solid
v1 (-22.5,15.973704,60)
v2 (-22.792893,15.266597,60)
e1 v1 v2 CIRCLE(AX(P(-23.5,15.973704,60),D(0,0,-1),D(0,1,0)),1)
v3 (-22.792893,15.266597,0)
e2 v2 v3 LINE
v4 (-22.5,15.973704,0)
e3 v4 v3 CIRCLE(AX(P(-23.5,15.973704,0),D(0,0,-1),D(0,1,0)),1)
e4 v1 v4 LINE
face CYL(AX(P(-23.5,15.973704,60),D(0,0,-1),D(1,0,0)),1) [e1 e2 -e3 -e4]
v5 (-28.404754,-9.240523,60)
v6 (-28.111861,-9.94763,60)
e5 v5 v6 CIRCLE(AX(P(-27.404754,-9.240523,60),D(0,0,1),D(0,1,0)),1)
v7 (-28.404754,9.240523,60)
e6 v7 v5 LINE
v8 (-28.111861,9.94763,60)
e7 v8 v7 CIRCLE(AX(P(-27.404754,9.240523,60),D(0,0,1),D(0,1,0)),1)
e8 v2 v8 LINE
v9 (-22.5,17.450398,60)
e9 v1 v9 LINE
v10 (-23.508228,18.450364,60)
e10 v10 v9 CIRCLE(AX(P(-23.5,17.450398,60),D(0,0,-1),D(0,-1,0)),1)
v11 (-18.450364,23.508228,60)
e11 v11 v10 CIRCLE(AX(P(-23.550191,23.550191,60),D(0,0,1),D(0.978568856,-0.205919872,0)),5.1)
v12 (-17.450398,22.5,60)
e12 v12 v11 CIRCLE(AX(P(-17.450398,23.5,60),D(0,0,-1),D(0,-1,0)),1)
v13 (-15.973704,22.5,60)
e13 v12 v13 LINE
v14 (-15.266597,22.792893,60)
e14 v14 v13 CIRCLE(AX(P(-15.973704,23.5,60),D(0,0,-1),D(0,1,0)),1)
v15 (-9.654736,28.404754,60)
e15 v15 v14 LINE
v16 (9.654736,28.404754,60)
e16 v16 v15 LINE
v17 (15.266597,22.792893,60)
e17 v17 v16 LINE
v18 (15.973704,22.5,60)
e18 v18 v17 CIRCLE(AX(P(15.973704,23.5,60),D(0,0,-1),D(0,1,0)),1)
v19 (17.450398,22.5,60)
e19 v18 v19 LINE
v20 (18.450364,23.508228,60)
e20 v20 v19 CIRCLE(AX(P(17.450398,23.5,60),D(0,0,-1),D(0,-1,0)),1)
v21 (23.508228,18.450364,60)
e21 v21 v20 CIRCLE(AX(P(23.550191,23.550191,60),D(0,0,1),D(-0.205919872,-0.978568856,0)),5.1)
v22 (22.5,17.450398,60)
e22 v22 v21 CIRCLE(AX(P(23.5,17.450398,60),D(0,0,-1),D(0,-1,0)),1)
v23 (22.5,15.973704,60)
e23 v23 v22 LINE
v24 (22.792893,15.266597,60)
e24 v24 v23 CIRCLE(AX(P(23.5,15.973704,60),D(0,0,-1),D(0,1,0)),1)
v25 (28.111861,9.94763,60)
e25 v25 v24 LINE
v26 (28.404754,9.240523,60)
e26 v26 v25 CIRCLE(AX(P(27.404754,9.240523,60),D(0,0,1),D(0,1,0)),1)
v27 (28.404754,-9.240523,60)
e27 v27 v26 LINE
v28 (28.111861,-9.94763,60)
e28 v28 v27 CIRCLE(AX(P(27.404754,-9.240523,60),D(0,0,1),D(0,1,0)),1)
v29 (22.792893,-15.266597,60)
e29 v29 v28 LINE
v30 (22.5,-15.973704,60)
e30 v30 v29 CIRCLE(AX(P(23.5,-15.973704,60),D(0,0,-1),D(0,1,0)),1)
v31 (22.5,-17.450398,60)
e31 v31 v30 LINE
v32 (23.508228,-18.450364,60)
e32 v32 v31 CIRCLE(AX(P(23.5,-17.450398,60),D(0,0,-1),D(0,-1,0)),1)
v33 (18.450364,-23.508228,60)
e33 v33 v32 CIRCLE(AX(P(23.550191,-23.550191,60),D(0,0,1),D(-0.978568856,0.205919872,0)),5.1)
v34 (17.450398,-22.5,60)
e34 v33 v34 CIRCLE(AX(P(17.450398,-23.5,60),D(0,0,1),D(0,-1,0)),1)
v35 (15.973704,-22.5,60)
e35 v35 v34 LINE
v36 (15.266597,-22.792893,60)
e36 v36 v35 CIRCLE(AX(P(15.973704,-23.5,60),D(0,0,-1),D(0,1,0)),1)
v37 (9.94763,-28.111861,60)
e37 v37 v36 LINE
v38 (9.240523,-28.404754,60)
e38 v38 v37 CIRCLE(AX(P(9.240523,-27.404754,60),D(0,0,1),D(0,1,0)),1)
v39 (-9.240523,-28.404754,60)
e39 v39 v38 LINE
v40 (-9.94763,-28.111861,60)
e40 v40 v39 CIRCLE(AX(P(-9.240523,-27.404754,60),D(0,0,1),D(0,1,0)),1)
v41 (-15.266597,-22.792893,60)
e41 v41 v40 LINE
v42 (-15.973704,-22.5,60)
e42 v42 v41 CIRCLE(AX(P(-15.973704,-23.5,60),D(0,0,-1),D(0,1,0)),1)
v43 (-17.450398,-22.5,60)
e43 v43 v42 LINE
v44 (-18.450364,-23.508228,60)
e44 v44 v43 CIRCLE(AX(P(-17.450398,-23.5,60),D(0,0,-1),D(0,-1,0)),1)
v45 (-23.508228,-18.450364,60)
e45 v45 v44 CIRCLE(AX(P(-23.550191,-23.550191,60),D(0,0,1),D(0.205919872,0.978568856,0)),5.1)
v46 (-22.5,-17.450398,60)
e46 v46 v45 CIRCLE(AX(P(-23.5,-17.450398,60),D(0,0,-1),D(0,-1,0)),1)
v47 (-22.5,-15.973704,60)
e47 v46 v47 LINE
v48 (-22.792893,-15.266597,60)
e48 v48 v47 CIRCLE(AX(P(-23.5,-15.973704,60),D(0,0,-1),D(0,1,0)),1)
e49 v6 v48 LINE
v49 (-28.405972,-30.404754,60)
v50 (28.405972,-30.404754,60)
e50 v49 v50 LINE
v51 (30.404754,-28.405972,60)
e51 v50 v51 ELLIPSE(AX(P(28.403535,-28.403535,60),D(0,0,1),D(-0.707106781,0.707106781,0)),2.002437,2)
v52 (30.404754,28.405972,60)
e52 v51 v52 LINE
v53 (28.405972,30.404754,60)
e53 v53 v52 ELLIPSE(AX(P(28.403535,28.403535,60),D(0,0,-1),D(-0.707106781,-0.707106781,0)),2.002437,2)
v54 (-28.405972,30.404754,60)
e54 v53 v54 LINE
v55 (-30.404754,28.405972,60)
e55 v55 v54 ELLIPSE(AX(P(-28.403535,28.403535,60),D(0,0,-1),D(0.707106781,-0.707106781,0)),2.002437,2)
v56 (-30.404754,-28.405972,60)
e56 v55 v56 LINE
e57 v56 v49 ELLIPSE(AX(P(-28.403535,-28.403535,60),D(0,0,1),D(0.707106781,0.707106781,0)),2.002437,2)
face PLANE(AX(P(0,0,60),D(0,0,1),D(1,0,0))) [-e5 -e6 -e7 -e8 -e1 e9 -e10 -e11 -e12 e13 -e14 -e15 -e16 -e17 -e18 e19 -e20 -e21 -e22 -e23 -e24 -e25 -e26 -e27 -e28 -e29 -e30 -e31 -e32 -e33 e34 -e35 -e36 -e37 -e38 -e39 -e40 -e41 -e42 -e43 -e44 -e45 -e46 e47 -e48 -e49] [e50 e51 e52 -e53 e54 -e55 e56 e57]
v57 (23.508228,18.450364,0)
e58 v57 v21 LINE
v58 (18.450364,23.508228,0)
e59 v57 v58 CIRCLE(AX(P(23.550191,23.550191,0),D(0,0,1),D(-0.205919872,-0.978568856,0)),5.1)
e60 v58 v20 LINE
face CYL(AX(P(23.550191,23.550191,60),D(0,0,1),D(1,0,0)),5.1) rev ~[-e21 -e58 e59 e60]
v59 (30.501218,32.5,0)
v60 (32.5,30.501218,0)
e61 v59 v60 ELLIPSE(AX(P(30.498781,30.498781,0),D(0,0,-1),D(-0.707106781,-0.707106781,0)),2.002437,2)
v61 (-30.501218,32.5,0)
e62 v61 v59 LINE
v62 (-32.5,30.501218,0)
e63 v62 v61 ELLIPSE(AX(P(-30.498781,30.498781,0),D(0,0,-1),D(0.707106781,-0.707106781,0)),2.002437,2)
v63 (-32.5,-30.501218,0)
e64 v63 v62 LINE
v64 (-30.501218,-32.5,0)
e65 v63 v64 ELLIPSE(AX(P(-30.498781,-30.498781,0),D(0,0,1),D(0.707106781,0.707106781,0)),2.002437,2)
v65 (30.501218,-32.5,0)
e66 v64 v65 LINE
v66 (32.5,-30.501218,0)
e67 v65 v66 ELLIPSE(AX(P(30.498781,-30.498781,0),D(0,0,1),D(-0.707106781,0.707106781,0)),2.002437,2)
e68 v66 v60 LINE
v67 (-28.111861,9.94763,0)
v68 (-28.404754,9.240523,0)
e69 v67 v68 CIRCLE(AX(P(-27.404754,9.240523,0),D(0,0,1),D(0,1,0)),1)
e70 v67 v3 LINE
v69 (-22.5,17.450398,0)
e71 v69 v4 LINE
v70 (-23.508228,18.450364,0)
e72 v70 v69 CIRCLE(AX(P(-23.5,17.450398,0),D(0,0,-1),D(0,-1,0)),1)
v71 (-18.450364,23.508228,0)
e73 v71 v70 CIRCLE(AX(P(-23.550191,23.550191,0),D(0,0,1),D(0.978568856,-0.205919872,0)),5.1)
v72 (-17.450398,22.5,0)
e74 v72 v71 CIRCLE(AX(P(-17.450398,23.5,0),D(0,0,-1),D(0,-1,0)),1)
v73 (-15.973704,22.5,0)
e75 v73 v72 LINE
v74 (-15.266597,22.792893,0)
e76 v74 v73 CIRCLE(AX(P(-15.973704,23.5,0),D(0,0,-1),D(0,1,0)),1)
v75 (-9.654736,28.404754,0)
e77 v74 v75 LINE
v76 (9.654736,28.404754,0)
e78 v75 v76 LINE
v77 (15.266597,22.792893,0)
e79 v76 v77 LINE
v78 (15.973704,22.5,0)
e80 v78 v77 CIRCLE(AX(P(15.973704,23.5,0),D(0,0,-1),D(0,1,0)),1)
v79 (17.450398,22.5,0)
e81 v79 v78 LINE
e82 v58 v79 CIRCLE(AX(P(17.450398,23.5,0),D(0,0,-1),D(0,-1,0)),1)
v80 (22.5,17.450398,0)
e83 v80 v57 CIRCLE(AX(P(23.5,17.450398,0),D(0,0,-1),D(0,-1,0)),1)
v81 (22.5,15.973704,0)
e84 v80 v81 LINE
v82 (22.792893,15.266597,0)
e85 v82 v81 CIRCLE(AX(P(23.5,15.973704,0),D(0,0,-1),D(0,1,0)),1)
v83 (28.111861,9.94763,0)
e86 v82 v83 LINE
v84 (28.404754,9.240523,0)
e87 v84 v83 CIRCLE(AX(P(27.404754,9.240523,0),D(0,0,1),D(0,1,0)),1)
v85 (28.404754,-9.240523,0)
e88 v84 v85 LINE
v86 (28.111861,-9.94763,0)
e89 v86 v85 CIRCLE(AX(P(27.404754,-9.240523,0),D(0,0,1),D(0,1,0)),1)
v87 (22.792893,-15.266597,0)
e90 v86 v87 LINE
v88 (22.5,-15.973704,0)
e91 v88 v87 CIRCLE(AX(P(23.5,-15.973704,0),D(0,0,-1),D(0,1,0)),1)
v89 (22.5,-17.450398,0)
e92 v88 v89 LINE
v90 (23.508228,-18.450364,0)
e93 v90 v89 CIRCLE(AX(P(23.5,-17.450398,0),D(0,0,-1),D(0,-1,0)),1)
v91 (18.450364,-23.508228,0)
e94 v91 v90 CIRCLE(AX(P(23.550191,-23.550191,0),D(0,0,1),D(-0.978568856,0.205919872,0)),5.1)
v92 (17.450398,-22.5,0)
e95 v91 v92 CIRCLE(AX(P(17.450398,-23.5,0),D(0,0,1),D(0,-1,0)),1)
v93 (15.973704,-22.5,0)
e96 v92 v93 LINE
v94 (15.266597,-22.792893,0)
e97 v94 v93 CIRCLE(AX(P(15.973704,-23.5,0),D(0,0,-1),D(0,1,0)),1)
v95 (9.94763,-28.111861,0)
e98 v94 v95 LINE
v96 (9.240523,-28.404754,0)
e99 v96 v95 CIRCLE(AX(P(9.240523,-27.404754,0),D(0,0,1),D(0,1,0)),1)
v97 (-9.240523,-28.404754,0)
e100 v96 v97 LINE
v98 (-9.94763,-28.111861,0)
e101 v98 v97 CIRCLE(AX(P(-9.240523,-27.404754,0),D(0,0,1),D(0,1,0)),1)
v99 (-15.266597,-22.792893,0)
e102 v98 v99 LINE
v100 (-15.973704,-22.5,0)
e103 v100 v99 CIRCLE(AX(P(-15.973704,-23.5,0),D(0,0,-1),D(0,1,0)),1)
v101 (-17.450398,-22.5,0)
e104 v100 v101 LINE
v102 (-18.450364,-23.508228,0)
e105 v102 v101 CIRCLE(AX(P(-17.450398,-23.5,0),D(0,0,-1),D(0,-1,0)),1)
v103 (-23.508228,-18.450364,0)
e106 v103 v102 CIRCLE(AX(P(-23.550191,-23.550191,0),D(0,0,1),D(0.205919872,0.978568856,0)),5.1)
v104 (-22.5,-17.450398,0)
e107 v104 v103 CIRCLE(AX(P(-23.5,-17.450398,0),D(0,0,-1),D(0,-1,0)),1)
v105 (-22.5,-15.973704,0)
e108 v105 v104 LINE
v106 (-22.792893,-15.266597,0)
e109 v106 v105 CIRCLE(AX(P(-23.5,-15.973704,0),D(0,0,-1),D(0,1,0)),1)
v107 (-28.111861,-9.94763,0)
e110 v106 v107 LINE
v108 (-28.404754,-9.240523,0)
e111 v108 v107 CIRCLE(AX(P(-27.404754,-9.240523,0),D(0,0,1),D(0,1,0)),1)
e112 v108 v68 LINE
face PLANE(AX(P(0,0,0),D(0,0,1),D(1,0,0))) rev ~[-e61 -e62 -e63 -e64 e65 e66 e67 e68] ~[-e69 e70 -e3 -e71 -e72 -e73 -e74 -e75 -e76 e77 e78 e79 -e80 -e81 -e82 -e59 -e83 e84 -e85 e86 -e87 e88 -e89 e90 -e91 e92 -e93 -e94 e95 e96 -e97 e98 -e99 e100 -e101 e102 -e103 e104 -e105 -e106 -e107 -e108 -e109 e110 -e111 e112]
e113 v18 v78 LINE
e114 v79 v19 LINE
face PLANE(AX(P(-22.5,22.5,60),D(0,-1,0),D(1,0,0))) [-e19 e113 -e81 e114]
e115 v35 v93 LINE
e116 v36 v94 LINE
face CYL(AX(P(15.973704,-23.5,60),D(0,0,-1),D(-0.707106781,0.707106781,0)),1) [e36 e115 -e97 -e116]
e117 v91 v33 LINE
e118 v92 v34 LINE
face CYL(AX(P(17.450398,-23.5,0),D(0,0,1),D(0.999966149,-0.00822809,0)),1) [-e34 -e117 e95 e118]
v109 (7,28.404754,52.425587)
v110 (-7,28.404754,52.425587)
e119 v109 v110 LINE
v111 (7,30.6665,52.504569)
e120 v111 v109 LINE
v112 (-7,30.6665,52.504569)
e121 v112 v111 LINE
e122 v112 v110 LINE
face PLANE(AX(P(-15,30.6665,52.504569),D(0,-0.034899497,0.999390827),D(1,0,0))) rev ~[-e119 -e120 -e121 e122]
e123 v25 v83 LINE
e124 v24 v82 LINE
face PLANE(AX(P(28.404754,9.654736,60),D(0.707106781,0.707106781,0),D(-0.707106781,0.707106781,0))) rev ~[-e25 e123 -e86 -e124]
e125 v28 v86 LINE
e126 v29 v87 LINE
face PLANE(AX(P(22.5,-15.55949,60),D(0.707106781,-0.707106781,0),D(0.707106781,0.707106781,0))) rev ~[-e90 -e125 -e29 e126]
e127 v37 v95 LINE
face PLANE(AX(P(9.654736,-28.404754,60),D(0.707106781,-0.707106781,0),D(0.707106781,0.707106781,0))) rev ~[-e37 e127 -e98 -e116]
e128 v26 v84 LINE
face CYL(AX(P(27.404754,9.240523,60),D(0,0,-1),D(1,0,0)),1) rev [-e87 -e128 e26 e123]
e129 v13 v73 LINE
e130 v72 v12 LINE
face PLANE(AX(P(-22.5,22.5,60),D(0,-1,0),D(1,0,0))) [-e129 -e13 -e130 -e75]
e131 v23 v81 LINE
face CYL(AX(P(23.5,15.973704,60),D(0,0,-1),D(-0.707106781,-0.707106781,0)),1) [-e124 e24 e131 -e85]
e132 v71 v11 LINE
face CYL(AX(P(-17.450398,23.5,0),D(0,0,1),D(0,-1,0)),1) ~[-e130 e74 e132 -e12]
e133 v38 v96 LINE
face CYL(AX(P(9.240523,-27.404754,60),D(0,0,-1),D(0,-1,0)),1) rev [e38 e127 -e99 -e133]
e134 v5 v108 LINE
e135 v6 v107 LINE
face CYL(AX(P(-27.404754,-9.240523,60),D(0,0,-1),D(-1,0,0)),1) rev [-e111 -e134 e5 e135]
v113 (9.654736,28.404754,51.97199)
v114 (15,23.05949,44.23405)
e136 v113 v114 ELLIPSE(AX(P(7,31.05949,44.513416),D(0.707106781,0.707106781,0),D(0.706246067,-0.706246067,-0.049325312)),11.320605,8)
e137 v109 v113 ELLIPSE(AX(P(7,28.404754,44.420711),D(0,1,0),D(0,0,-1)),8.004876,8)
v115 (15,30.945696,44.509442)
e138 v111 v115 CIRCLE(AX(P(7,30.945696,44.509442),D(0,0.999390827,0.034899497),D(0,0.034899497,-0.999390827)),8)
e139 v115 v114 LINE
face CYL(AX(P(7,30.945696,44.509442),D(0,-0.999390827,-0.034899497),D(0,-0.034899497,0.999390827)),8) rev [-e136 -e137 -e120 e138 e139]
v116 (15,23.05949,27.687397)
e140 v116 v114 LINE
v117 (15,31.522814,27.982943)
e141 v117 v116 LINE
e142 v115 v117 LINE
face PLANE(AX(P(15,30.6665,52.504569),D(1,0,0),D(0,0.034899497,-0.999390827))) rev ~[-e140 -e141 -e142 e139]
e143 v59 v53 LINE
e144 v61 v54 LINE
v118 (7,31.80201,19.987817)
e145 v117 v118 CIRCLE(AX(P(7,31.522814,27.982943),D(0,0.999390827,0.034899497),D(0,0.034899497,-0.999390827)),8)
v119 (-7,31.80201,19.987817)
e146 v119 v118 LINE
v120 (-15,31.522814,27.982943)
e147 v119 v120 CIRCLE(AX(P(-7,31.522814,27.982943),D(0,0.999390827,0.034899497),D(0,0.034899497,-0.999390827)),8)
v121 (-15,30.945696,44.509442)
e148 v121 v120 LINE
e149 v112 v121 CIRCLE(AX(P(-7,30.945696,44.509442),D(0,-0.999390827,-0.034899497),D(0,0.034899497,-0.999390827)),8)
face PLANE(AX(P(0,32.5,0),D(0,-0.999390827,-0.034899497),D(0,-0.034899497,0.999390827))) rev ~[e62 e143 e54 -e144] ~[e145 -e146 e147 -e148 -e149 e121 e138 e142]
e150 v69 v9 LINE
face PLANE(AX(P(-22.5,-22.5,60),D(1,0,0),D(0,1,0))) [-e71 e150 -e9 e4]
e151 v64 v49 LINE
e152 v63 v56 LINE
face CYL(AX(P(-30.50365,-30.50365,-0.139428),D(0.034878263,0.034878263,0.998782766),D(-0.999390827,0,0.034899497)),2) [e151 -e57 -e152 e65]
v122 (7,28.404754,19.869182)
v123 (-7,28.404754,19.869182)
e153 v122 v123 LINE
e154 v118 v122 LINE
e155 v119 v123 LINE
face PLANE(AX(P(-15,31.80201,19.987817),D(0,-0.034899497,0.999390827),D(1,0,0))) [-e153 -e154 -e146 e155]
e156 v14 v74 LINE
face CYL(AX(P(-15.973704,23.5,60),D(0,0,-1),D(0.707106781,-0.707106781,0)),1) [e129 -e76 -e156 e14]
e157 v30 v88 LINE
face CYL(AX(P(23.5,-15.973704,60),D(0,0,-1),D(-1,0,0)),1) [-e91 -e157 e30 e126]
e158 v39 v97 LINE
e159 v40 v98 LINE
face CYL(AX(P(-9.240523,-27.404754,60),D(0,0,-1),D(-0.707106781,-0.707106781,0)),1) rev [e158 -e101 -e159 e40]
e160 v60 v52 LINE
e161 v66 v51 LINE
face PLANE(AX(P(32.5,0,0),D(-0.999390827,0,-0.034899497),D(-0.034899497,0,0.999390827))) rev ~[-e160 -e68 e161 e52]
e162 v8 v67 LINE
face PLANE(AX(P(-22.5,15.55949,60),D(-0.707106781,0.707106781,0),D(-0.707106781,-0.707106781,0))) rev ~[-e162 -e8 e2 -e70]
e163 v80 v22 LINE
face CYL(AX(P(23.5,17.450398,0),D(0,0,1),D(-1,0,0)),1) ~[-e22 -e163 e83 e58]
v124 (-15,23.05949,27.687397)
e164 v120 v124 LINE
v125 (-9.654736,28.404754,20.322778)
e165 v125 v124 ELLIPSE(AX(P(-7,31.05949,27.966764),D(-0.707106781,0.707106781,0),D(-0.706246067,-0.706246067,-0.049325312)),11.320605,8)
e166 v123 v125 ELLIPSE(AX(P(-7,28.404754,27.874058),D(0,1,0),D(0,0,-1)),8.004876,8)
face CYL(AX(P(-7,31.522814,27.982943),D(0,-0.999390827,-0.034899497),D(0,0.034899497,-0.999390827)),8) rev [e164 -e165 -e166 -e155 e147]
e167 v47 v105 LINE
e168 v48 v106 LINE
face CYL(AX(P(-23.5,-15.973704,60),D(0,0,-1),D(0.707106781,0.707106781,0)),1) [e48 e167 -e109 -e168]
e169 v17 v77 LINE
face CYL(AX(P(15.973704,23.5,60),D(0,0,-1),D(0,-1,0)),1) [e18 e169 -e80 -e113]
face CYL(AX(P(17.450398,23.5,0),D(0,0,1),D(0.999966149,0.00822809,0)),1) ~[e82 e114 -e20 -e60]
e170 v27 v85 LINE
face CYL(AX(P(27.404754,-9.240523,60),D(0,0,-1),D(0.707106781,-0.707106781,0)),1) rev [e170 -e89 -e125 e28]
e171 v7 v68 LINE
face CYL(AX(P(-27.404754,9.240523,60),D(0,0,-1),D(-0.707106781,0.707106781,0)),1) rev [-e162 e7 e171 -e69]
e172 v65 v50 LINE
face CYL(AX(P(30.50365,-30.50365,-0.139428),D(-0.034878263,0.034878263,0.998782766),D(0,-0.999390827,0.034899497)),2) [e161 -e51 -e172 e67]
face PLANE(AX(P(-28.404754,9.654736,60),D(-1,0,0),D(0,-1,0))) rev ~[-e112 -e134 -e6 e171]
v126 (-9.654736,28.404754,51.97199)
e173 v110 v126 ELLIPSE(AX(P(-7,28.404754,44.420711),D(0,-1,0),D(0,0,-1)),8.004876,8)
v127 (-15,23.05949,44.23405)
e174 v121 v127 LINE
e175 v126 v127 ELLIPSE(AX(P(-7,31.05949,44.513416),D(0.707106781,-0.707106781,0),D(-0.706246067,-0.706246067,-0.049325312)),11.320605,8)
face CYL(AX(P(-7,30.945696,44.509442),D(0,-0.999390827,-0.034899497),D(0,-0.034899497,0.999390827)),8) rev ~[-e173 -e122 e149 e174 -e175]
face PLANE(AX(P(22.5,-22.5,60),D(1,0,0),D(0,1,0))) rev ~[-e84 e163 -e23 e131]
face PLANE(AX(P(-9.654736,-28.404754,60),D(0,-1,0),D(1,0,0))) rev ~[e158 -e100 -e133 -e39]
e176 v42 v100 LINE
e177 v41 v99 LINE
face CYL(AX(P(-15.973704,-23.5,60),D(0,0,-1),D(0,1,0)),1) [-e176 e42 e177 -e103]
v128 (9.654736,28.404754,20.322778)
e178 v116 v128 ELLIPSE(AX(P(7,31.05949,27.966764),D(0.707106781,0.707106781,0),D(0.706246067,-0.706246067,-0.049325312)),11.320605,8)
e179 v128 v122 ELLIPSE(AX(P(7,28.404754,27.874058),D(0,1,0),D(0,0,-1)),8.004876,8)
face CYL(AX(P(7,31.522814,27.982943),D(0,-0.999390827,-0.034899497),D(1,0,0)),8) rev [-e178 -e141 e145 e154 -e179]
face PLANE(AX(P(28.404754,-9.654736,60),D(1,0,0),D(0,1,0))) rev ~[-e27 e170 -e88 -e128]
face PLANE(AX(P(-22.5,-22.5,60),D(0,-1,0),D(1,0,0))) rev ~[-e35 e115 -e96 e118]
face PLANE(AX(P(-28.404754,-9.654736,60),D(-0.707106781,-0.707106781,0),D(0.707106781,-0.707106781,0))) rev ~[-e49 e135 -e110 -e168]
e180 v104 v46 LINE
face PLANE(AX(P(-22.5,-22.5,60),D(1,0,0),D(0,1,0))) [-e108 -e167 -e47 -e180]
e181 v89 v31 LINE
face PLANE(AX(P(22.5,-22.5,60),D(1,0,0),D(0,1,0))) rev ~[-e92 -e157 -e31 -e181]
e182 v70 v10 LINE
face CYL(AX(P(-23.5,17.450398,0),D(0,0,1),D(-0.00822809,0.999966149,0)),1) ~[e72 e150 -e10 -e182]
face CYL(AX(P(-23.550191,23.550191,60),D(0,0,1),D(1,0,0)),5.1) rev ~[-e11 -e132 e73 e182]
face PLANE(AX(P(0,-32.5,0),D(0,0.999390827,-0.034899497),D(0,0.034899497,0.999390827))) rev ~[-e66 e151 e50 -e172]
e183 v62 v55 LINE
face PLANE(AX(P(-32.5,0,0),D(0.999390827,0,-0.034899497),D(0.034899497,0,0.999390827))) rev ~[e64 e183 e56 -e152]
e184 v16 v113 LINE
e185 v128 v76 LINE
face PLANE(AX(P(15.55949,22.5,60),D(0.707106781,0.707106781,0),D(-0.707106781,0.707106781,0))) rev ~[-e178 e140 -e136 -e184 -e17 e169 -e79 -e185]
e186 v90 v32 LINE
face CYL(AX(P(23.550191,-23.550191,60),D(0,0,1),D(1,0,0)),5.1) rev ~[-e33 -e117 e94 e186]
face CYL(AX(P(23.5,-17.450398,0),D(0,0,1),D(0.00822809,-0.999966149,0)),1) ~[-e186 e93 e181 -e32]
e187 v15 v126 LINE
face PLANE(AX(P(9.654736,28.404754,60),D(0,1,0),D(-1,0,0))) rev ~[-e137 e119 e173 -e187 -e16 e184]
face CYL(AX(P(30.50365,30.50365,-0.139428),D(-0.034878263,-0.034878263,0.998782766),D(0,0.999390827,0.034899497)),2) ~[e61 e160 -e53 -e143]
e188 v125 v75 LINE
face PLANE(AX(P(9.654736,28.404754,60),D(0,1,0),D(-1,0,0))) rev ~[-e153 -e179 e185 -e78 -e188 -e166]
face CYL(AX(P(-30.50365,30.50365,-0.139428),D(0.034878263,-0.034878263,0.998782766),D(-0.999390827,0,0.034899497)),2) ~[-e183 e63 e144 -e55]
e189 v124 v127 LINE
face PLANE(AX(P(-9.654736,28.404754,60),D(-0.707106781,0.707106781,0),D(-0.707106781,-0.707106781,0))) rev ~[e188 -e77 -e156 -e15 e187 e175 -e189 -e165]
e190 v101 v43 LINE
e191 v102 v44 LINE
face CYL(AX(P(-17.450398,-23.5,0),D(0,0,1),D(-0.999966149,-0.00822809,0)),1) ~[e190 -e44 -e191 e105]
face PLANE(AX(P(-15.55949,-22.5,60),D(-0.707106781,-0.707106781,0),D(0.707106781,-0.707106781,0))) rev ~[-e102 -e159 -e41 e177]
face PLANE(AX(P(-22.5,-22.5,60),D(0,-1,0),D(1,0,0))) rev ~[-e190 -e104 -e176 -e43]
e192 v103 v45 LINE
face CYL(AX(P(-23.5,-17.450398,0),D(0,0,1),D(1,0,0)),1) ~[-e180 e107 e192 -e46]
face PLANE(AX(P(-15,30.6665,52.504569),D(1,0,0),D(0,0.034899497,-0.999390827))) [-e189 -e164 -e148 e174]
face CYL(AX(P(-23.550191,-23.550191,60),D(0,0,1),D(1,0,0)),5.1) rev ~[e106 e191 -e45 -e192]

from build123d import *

# Parameters (mm, degrees)
SKETCH1_W           = 65
SKETCH1_H           = 65
BOSS_EXTRUDE1_DEPTH = 60
BOSS_EXTRUDE1_TAPER = 2
CUT_EXTRUDE1_REACH  = 77.581
SKETCH4_R           = 5.1
CUT_EXTRUDE2_REACH  = 77.581
SKETCH5_W           = 45
SKETCH5_H           = 45
CUT_EXTRUDE4_REACH  = 77.581
CUT_EXTRUDE5_REACH  = 95.495
SKETCH7_W           = 30
SKETCH7_H           = 32.536572658
FILLET1_R           = 2
FILLET3_R           = 1
FILLET5_R           = 8


with BuildPart() as part:
    # Sketch1 → Boss-Extrude1 (new body)
    with BuildSketch(Plane.XY):
        Rectangle(SKETCH1_W, SKETCH1_H)
    extrude(amount=BOSS_EXTRUDE1_DEPTH, taper=BOSS_EXTRUDE1_TAPER)

    # Sketch4 → Cut-Extrude1 (cut, up to next)
    with BuildSketch(Plane.XY.offset(60), mode=Mode.PRIVATE) as cut_extrude1_sk1:
        with Locations((-23.550191347, 23.550191347)):
            Circle(SKETCH4_R)
    cut_extrude1_tool1 = extrude(cut_extrude1_sk1.sketch, amount=-CUT_EXTRUDE1_REACH, mode=Mode.PRIVATE) & part.part
    # Sketch4 → Cut-Extrude1 (cut, up to next)
    with BuildSketch(Plane.XY.offset(60), mode=Mode.PRIVATE) as cut_extrude1_sk2:
        with Locations((23.550191347, 23.550191347)):
            Circle(SKETCH4_R)
    cut_extrude1_tool2 = extrude(cut_extrude1_sk2.sketch, amount=-CUT_EXTRUDE1_REACH, mode=Mode.PRIVATE) & part.part
    # Sketch4 → Cut-Extrude1 (cut, up to next)
    with BuildSketch(Plane.XY.offset(60), mode=Mode.PRIVATE) as cut_extrude1_sk3:
        with Locations((23.550191347, -23.550191347)):
            Circle(SKETCH4_R)
    cut_extrude1_tool3 = extrude(cut_extrude1_sk3.sketch, amount=-CUT_EXTRUDE1_REACH, mode=Mode.PRIVATE) & part.part
    # Sketch4 → Cut-Extrude1 (cut, up to next)
    with BuildSketch(Plane.XY.offset(60), mode=Mode.PRIVATE) as cut_extrude1_sk4:
        with Locations((-23.550191347, -23.550191347)):
            Circle(SKETCH4_R)
    cut_extrude1_tool4 = extrude(cut_extrude1_sk4.sketch, amount=-CUT_EXTRUDE1_REACH, mode=Mode.PRIVATE) & part.part
    add(cut_extrude1_tool1.solids().sort_by_distance((-23.550191, 23.550191, 60))[0], mode=Mode.SUBTRACT)
    add(cut_extrude1_tool2.solids().sort_by_distance((23.550191, 23.550191, 60))[0], mode=Mode.SUBTRACT)
    add(cut_extrude1_tool3.solids().sort_by_distance((23.550191, -23.550191, 60))[0], mode=Mode.SUBTRACT)
    add(cut_extrude1_tool4.solids().sort_by_distance((-23.550191, -23.550191, 60))[0], mode=Mode.SUBTRACT)

    # Sketch5 → Cut-Extrude2 (cut, up to next)
    with BuildSketch(Plane.XY.offset(60), mode=Mode.PRIVATE) as cut_extrude2_sk1:
        Rectangle(SKETCH5_W, SKETCH5_H)
    cut_extrude2_tool1 = extrude(cut_extrude2_sk1.sketch, amount=-CUT_EXTRUDE2_REACH, mode=Mode.PRIVATE) & part.part
    add(cut_extrude2_tool1.solids().sort_by_distance((0, 0, 60))[0], mode=Mode.SUBTRACT)

    # Sketch6 → Cut-Extrude4 (cut, up to next)
    with BuildSketch(Plane.XY.offset(60), mode=Mode.PRIVATE) as cut_extrude4_sk1:
        Polygon((-22.5, -15.559490181), (-22.5, 15.559490181), (-28.40475383, 9.65473635), (-28.40475383, -9.65473635), align=None)
    cut_extrude4_tool1 = extrude(cut_extrude4_sk1.sketch, amount=-CUT_EXTRUDE4_REACH, mode=Mode.PRIVATE) & part.part
    # Sketch6 → Cut-Extrude4 (cut, up to next)
    with BuildSketch(Plane.XY.offset(60), mode=Mode.PRIVATE) as cut_extrude4_sk2:
        Polygon((-15.559490181, 22.5), (15.559490181, 22.5), (9.65473635, 28.40475383), (-9.65473635, 28.40475383), align=None)
    cut_extrude4_tool2 = extrude(cut_extrude4_sk2.sketch, amount=-CUT_EXTRUDE4_REACH, mode=Mode.PRIVATE) & part.part
    # Sketch6 → Cut-Extrude4 (cut, up to next)
    with BuildSketch(Plane.XY.offset(60), mode=Mode.PRIVATE) as cut_extrude4_sk3:
        Polygon((22.5, 15.559490181), (22.5, -15.559490181), (28.40475383, -9.65473635), (28.40475383, 9.65473635), align=None)
    cut_extrude4_tool3 = extrude(cut_extrude4_sk3.sketch, amount=-CUT_EXTRUDE4_REACH, mode=Mode.PRIVATE) & part.part
    # Sketch6 → Cut-Extrude4 (cut, up to next)
    with BuildSketch(Plane.XY.offset(60), mode=Mode.PRIVATE) as cut_extrude4_sk4:
        Polygon((15.559490181, -22.5), (-15.559490181, -22.5), (-9.65473635, -28.40475383), (9.65473635, -28.40475383), align=None)
    cut_extrude4_tool4 = extrude(cut_extrude4_sk4.sketch, amount=-CUT_EXTRUDE4_REACH, mode=Mode.PRIVATE) & part.part
    add(cut_extrude4_tool1.solids().sort_by_distance((-25.221911, 0, 60))[0], mode=Mode.SUBTRACT)
    add(cut_extrude4_tool2.solids().sort_by_distance((0, 25.221911, 60))[0], mode=Mode.SUBTRACT)
    add(cut_extrude4_tool3.solids().sort_by_distance((25.221911, 0, 60))[0], mode=Mode.SUBTRACT)
    add(cut_extrude4_tool4.solids().sort_by_distance((0, -25.221911, 60))[0], mode=Mode.SUBTRACT)

    # Sketch7 → Cut-Extrude5 (cut, up to next)
    with BuildSketch(Plane(origin=(0, 32.460415817, 1.133542698), x_dir=(1, 0, 0), z_dir=(0, 0.9993908270190958, 0.034899496702501046)), mode=Mode.PRIVATE) as cut_extrude5_sk1:
        with Locations((0, -35.134052686)):
            Rectangle(SKETCH7_W, SKETCH7_H)
    cut_extrude5_tool1 = extrude(cut_extrude5_sk1.sketch, amount=-CUT_EXTRUDE5_REACH, mode=Mode.PRIVATE) & part.part
    add(cut_extrude5_tool1.solids().sort_by_distance((0, 31.234255, 36.246193))[0], mode=Mode.SUBTRACT)

    # Fillet1
    fillet1_edges = [part.edges().sort_by_distance(p)[0] for p in [
        (-31.452376453, 31.452376453, 30.000013228),
        (31.452376915, 31.452376915, 30),
        (31.452376453, -31.452376453, 30.000013228),
        (-31.452376915, -31.452376915, 30),
    ]]
    fillet(fillet1_edges, radius=FILLET1_R)

    # Fillet3
    fillet3_edges = [part.edges().sort_by_distance(p)[0] for p in [
        (-22.5, -15.559490181, 30),
        (-28.40475383, -9.65473635, 30),
        (-28.40475383, 9.65473635, 30),
        (-22.5, 15.559490181, 30),
        (-22.5, 18.559490181, 30),
        (-18.559490181, 22.5, 30),
        (18.559490181, 22.5, 30),
        (22.5, 18.559490181, 30),
        (22.5, -18.559490181, 30),
        (18.559490181, -22.5, 30),
        (-22.5, -18.559490181, 30),
        (-18.559490181, -22.5, 30),
        (15.559490181, -22.5, 30),
        (9.65473635, -28.40475383, 30),
        (-9.65473635, -28.40475383, 30),
        (-15.559490181, -22.5, 30),
        (-15.559490181, 22.5, 30),
        (15.559490181, 22.5, 30),
        (22.5, 15.559490181, 30),
        (28.40475383, 9.65473635, 30),
        (28.40475383, -9.65473635, 30),
        (22.5, -15.559490181, 30),
    ]]
    fillet(fillet3_edges, radius=FILLET3_R)

    # Fillet5
    fillet5_edges = [part.edges().sort_by_distance(p)[0] for p in [
        (15, 26.862995118, 52.371747478),
        (-15, 26.862995118, 52.371747478),
        (15, 27.430750123, 19.83516878),
        (-15, 27.430750123, 19.83516878),
    ]]
    fillet(fillet5_edges, radius=FILLET5_R)


solid = part.part
